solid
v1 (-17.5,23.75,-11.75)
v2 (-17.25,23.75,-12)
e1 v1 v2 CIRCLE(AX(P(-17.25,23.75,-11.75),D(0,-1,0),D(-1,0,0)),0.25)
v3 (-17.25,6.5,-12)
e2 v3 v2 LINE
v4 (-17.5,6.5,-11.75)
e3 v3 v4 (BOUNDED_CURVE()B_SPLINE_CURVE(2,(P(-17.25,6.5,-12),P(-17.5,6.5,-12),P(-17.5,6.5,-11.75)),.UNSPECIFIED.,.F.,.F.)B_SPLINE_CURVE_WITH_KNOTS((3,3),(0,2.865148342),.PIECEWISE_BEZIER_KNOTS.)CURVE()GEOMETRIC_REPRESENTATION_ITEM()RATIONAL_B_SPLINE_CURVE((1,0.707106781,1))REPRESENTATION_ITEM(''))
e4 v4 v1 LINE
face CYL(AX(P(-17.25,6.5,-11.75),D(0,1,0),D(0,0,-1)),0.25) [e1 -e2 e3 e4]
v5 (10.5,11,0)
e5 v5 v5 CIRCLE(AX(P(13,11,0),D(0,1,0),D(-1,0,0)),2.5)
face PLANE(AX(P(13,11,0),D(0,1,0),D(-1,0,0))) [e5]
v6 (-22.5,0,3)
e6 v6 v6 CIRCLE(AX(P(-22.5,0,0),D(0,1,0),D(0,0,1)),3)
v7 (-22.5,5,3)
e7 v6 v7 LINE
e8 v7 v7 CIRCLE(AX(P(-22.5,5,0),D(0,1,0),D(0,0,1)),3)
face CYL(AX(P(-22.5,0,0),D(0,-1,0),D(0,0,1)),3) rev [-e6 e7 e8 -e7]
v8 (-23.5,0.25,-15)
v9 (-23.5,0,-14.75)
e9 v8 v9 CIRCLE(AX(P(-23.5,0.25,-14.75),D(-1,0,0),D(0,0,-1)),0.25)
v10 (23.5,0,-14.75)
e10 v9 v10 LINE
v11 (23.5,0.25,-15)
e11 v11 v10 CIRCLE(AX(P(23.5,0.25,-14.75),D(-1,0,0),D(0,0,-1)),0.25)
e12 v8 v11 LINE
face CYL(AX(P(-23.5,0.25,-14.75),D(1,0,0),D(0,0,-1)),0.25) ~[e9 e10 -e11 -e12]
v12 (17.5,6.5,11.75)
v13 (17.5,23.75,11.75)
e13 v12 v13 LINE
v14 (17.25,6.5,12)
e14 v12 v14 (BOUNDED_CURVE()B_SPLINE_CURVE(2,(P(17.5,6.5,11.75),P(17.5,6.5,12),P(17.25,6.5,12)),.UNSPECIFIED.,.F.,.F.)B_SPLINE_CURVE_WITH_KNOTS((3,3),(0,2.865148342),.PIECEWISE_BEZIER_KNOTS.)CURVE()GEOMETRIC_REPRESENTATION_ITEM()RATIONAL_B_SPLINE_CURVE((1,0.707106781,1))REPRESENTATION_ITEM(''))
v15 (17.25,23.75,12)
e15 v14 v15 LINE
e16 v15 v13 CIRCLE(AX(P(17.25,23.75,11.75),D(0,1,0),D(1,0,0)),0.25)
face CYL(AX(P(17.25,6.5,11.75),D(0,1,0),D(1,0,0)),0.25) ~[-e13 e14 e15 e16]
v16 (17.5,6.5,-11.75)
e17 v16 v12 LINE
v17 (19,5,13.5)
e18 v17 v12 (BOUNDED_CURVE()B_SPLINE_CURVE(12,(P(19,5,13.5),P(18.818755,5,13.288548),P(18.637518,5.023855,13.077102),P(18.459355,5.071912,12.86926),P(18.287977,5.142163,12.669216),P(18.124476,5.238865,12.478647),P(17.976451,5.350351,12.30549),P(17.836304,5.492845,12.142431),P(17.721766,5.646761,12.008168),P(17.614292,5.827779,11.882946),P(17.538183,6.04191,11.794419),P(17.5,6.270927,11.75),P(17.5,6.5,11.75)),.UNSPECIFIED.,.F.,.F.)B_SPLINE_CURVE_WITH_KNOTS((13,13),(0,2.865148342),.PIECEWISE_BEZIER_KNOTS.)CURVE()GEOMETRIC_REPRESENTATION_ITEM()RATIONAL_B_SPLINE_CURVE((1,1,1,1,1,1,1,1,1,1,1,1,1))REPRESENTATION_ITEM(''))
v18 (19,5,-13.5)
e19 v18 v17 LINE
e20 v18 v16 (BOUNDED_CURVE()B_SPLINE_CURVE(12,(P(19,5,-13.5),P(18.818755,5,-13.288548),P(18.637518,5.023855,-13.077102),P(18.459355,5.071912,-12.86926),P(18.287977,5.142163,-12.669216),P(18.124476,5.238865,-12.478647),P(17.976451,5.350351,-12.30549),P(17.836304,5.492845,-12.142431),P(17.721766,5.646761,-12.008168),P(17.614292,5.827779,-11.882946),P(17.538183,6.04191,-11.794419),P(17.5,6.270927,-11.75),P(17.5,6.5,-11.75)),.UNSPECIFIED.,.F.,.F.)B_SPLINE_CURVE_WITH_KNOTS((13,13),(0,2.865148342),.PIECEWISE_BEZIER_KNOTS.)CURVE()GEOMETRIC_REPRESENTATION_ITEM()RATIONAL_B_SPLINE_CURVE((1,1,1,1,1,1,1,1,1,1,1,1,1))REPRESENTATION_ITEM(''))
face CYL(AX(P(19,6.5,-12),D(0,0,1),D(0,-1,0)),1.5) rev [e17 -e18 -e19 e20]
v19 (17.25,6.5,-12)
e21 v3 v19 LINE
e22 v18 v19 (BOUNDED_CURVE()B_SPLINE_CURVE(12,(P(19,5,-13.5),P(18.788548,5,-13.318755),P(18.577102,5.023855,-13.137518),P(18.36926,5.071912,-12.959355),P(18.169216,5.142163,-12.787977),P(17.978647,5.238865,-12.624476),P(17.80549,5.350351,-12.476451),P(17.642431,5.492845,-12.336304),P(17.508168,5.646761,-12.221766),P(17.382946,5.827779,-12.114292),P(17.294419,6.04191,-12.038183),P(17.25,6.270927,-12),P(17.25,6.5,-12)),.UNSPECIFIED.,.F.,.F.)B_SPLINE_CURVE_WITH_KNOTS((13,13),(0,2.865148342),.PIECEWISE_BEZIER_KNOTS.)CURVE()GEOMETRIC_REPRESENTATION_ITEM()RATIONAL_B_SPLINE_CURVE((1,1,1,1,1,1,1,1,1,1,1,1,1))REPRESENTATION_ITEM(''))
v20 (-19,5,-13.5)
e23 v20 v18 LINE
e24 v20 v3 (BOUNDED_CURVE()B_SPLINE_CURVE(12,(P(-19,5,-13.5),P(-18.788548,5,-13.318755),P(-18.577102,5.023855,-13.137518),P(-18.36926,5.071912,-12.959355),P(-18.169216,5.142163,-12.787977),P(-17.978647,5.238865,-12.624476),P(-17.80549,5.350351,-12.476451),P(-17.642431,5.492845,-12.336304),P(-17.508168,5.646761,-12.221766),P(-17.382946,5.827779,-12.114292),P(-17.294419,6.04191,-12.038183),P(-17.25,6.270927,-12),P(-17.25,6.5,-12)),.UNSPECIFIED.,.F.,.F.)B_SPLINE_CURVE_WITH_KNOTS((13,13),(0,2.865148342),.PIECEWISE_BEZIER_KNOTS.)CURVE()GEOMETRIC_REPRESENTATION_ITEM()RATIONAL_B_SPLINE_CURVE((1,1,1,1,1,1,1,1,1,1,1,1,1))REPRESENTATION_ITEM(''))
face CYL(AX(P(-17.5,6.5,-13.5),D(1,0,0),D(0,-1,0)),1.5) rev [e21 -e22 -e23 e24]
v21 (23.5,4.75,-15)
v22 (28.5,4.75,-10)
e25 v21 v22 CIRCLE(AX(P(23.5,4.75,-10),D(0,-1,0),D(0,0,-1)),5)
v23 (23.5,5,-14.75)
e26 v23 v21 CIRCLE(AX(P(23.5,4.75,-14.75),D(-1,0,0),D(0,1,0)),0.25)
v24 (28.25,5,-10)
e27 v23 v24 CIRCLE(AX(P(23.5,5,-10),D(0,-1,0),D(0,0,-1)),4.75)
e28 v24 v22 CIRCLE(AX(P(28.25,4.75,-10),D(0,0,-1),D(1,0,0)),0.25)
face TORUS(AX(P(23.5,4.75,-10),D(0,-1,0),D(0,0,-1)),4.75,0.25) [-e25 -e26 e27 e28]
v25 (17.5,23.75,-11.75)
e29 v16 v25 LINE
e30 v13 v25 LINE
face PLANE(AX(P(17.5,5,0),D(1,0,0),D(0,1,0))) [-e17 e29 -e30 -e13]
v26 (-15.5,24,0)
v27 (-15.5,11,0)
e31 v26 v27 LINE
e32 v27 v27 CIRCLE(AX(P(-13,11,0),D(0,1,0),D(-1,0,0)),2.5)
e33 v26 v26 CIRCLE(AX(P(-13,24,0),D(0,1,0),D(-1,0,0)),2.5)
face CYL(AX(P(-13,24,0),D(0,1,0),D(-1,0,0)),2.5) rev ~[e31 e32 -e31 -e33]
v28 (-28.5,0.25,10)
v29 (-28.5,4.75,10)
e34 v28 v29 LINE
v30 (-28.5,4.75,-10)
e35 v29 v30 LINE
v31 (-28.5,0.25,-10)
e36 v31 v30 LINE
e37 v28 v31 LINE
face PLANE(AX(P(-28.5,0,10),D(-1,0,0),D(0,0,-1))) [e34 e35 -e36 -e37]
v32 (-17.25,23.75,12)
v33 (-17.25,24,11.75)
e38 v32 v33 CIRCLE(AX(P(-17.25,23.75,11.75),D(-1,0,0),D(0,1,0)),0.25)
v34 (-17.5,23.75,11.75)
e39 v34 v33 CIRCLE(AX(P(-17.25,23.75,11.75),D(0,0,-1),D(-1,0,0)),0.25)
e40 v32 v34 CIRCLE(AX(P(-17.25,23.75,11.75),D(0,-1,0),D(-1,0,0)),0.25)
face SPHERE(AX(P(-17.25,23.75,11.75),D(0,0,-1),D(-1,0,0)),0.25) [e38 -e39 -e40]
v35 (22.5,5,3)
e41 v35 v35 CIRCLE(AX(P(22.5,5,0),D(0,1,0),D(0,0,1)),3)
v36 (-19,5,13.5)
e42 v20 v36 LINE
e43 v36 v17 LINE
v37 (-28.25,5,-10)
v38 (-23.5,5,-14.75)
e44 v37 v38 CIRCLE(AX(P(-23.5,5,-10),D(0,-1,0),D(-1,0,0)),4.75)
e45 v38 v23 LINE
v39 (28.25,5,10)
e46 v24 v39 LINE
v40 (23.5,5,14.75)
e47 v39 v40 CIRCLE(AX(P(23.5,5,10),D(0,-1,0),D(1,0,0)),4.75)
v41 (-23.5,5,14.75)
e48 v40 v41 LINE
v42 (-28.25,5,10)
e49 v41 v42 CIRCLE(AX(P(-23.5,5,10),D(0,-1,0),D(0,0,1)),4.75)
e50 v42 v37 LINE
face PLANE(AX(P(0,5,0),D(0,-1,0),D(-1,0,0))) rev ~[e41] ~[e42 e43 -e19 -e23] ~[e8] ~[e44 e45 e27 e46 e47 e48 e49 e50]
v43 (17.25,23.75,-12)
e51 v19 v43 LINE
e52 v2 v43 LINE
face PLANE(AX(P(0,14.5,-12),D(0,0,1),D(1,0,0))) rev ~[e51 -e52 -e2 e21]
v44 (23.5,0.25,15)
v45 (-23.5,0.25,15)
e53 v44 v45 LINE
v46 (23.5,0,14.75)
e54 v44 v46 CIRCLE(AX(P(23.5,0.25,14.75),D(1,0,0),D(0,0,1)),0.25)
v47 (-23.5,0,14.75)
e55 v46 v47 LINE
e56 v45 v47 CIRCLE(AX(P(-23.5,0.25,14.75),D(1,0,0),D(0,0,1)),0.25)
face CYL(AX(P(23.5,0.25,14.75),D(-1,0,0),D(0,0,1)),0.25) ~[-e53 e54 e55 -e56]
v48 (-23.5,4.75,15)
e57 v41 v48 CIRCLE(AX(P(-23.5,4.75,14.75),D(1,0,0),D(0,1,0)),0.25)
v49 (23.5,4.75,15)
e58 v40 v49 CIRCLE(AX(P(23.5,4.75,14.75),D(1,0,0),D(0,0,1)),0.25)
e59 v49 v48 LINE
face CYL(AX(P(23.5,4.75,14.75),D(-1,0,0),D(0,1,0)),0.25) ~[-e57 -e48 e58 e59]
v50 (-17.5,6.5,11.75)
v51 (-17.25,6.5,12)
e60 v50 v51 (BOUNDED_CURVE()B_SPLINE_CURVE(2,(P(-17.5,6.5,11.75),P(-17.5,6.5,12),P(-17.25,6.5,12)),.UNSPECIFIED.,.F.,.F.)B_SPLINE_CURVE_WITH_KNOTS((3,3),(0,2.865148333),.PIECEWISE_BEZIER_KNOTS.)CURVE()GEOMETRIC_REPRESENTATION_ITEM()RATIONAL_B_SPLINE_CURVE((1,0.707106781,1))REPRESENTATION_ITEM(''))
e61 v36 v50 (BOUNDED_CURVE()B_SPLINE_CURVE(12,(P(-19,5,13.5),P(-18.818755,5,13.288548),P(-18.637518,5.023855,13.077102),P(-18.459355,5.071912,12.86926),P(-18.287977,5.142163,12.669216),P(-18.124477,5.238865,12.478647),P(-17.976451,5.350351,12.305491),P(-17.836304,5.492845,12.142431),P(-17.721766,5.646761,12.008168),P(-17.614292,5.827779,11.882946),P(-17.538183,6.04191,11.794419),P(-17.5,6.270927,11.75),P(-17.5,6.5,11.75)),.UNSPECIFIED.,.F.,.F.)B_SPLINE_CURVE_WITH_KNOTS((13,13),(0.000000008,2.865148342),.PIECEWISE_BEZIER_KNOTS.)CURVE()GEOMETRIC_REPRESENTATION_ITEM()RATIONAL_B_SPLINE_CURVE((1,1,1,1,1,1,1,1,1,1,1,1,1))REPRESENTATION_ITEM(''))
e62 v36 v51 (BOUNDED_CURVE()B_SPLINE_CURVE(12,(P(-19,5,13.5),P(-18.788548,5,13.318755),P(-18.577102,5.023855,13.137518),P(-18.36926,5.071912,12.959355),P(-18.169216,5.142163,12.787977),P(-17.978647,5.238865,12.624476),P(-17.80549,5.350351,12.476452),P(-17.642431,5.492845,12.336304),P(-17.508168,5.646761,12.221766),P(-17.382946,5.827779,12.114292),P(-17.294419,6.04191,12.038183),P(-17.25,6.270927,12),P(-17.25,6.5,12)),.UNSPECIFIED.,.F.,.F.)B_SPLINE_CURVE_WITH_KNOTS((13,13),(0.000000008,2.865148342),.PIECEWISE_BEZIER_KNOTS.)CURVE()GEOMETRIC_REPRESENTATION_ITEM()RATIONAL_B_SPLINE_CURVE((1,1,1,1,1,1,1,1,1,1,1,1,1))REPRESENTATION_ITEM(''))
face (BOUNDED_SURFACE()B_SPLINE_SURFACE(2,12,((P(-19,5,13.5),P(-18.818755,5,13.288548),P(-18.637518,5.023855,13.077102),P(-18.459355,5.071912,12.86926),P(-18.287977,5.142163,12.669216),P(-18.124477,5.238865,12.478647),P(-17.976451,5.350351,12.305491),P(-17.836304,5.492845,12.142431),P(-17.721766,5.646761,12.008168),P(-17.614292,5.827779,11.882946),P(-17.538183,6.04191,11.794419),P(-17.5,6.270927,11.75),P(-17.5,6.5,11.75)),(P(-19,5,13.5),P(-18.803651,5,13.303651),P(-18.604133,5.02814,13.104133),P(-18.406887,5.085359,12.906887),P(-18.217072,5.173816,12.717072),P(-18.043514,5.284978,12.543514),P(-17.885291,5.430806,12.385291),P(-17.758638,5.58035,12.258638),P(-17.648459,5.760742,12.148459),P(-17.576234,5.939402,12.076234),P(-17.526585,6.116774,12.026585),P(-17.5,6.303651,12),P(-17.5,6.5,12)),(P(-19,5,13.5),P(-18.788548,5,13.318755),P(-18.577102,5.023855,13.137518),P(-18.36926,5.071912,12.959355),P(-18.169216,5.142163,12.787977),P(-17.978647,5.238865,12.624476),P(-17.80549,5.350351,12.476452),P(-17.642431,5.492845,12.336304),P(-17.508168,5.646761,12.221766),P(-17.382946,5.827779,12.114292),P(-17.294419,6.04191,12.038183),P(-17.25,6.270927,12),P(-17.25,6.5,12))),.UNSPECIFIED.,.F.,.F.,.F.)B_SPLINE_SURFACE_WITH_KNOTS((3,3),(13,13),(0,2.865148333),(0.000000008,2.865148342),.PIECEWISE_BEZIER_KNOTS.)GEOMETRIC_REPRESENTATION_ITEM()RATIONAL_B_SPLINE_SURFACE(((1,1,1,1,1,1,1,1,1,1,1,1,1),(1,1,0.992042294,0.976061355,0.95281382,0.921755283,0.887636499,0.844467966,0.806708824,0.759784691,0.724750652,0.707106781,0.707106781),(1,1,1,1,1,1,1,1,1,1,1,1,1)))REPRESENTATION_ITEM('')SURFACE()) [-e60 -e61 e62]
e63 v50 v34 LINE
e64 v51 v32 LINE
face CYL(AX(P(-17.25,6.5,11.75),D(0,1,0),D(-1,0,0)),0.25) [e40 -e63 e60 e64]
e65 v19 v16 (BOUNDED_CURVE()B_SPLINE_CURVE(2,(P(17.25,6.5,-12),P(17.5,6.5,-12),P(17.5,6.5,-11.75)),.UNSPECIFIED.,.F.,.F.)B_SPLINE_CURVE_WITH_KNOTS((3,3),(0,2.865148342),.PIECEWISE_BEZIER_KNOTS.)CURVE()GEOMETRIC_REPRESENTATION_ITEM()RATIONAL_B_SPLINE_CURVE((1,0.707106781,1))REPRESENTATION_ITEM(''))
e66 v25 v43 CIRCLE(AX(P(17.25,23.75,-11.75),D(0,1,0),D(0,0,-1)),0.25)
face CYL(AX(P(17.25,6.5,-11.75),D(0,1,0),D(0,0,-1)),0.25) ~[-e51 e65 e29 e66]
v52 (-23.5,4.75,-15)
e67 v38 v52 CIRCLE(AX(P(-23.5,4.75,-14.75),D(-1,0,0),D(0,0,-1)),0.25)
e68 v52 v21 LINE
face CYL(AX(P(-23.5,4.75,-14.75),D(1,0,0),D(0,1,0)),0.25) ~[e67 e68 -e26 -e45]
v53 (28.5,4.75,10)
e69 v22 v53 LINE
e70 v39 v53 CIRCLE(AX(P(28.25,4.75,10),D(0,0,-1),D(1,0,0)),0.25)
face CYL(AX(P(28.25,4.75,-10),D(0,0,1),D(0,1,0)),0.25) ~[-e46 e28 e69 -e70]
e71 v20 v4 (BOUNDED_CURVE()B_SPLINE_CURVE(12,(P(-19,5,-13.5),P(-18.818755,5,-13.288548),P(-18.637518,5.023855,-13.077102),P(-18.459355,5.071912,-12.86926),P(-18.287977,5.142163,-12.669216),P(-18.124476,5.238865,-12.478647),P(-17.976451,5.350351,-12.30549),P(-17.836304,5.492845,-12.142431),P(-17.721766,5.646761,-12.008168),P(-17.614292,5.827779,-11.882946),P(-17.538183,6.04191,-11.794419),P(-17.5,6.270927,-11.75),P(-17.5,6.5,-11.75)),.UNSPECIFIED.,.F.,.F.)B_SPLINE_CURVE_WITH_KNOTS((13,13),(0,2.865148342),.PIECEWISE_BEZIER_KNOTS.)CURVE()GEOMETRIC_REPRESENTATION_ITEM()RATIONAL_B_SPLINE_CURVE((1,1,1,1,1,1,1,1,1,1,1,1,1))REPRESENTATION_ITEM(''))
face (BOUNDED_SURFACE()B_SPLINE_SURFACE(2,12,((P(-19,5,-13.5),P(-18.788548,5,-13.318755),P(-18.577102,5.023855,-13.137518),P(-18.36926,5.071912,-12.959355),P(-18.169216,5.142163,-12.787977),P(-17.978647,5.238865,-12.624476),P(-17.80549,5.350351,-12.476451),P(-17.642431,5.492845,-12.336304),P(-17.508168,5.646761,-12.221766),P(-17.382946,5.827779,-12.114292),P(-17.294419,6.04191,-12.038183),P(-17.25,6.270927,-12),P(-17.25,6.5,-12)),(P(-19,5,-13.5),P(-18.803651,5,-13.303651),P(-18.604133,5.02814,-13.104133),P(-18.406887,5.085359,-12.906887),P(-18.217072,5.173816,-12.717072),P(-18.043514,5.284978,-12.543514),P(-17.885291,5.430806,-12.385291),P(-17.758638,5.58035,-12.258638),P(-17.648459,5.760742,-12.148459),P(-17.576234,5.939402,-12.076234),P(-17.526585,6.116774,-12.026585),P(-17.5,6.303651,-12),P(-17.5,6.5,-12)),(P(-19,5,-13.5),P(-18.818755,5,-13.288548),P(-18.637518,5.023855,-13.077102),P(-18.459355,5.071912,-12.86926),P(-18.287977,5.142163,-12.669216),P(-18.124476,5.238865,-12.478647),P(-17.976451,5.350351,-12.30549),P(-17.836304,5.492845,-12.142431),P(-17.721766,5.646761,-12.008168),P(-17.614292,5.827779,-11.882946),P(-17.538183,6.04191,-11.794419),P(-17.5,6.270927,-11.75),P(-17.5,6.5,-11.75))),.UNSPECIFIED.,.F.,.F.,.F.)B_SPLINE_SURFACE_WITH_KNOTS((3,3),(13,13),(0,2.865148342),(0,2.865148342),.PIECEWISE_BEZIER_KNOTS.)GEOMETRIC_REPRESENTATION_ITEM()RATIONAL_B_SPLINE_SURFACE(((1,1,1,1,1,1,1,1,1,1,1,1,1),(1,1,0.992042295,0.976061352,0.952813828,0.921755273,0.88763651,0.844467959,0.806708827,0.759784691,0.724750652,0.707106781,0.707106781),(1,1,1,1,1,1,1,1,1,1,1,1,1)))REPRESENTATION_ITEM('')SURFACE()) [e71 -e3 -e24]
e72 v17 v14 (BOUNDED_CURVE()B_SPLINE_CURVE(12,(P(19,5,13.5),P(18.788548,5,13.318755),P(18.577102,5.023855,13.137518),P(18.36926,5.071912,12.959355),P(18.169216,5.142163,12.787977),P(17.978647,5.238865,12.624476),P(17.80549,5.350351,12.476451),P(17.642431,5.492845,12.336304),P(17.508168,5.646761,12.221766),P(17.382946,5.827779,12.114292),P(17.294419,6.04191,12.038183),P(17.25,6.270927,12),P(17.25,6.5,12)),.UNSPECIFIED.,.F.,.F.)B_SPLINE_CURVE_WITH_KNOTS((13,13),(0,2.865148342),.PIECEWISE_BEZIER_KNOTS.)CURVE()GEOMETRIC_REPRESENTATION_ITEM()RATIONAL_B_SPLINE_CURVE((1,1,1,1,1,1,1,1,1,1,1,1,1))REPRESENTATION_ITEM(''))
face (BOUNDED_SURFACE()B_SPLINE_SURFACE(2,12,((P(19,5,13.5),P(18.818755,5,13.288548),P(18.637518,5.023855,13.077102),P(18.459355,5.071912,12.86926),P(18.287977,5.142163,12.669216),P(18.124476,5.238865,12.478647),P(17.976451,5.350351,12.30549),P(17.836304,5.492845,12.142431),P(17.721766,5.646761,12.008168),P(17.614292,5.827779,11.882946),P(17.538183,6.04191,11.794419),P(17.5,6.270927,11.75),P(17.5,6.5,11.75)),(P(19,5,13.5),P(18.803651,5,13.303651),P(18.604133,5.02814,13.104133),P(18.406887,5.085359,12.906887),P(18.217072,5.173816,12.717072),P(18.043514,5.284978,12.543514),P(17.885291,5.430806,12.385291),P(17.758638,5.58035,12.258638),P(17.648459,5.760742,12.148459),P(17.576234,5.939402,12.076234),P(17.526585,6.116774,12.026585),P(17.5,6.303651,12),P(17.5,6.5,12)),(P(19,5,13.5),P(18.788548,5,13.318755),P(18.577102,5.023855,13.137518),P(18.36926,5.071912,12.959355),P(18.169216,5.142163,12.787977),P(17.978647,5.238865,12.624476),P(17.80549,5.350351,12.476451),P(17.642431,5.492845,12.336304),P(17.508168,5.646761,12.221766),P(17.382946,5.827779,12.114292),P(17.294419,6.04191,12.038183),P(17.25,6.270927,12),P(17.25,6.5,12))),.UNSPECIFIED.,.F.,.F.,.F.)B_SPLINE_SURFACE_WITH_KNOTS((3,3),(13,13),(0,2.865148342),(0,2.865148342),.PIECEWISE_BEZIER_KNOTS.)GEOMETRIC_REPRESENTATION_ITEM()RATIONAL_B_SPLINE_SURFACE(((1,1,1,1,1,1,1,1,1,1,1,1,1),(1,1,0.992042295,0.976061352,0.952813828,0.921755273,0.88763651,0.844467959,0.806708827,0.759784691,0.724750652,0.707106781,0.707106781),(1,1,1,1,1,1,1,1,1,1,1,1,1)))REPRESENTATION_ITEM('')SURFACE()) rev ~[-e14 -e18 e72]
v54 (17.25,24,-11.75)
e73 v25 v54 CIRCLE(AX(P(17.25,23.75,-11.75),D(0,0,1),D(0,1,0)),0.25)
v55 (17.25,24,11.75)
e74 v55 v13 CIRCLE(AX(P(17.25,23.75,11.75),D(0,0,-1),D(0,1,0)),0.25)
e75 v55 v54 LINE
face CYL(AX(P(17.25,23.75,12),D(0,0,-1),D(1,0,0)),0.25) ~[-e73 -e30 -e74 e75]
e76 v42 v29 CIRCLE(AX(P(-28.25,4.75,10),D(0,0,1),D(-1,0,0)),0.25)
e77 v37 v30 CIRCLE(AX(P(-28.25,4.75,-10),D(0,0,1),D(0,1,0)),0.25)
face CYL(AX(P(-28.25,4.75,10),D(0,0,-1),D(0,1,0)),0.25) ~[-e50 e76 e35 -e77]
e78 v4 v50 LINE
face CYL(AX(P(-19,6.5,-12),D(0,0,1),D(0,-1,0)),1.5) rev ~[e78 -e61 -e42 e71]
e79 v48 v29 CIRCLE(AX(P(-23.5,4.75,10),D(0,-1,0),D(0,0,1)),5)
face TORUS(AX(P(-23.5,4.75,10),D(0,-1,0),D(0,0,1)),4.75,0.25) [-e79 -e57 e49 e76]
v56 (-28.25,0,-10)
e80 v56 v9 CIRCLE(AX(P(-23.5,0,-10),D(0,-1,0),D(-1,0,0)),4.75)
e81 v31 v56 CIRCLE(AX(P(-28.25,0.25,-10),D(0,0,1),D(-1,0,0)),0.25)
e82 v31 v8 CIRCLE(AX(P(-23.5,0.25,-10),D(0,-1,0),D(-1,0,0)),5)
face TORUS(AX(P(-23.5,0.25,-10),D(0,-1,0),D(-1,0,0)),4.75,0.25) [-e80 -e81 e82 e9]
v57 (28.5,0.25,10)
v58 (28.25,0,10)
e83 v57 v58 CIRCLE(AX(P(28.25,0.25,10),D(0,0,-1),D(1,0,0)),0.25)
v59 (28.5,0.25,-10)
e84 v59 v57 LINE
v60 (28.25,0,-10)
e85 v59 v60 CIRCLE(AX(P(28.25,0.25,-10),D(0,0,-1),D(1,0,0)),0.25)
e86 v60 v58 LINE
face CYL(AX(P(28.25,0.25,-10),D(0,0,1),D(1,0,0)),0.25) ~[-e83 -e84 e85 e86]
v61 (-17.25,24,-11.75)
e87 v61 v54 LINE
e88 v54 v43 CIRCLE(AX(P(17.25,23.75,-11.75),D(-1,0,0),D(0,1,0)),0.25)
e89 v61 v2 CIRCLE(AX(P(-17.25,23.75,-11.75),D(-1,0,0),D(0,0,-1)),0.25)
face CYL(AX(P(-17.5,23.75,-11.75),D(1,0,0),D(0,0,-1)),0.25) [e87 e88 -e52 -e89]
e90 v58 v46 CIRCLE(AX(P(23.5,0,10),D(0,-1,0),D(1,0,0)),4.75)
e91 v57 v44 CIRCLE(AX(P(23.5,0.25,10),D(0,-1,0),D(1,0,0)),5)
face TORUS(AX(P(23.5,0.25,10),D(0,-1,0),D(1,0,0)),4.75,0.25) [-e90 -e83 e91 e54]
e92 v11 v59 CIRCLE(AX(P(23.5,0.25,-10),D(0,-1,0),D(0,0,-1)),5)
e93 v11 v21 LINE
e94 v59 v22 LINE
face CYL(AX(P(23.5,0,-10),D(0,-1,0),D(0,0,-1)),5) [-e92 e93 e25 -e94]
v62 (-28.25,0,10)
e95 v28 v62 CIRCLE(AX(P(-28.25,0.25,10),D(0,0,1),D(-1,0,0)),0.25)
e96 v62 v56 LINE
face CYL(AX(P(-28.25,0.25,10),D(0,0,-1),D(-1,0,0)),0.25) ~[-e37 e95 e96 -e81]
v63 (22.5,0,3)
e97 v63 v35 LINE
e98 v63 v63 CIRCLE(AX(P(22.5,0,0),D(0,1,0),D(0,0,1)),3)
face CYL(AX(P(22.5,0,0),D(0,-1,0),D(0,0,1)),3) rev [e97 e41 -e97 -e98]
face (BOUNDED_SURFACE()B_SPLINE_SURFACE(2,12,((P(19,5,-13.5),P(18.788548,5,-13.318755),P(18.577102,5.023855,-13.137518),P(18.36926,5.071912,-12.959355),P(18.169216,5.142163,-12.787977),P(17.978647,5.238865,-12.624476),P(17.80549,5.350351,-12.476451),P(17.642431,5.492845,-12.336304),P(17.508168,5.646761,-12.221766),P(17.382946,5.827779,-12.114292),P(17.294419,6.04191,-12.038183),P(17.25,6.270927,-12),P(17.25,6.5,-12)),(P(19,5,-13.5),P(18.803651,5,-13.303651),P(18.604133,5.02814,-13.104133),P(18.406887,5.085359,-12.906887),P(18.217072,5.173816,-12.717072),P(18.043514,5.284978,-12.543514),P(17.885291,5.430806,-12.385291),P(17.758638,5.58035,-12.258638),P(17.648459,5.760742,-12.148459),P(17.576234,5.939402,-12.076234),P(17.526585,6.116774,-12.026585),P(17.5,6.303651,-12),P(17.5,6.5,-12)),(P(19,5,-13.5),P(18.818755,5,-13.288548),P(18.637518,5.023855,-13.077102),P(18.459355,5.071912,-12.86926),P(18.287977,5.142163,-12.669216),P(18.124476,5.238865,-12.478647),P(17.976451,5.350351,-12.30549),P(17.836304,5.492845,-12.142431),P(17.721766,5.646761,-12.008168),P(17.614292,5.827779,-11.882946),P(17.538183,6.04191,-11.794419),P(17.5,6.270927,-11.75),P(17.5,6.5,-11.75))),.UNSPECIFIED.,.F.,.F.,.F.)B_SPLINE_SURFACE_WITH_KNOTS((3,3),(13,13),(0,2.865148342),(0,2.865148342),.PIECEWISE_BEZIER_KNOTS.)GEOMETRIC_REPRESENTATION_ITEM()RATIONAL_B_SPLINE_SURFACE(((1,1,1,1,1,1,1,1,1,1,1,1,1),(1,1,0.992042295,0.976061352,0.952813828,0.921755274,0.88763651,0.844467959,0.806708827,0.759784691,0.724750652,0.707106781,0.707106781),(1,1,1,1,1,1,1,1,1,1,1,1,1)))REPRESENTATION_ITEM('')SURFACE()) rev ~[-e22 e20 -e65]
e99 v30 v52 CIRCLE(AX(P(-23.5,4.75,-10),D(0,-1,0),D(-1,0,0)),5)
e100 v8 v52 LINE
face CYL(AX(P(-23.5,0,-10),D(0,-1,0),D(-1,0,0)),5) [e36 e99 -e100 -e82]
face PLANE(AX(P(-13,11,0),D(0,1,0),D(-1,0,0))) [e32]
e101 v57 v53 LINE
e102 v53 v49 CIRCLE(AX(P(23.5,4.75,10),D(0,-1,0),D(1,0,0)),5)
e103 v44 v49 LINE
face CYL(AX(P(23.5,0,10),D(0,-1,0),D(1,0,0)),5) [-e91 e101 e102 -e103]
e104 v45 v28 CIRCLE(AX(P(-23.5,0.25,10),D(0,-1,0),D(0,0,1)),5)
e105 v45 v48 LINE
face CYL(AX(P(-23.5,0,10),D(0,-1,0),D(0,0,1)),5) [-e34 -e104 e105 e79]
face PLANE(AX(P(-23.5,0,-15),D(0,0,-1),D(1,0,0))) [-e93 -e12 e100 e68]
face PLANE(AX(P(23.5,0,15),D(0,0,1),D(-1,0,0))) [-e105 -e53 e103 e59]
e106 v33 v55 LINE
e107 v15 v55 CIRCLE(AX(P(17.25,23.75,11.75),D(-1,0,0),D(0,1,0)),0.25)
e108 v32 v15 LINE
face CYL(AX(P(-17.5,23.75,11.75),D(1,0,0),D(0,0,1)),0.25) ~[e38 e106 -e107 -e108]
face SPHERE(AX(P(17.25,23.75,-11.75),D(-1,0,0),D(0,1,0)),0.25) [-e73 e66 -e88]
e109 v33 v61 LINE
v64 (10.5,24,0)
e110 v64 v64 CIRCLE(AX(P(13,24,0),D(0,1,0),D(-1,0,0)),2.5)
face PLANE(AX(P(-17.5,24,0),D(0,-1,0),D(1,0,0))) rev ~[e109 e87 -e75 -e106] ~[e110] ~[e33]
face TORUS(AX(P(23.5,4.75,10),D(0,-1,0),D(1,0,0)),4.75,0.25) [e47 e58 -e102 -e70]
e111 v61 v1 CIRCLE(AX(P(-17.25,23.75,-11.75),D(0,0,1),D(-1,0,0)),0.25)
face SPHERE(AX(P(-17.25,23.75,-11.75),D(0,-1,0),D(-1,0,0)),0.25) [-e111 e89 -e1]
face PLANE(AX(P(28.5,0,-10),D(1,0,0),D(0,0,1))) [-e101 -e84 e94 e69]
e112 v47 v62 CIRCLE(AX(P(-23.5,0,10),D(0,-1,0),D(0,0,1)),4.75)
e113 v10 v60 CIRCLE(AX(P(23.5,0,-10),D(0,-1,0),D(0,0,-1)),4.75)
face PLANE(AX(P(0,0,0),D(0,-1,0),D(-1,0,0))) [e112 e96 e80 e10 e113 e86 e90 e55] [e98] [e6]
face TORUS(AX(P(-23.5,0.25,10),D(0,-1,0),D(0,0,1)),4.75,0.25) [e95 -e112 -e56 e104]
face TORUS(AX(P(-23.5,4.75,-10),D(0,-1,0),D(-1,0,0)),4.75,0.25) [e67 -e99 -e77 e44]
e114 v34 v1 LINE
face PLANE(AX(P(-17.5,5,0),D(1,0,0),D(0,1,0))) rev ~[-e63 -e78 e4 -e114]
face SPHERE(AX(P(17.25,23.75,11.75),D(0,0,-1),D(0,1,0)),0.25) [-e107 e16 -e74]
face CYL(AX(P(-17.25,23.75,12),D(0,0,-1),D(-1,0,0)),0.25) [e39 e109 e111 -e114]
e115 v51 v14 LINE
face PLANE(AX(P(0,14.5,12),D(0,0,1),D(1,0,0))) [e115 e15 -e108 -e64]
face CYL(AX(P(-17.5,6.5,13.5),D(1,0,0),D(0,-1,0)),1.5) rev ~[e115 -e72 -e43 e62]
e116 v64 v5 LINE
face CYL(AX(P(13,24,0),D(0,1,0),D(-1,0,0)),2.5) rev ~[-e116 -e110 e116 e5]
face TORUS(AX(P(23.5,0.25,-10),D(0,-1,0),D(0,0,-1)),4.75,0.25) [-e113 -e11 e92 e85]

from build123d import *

# Parameters (mm, degrees)
SKETCH1_R           = 3
BOSS_EXTRUDE1_DEPTH = 5
SKETCH2_W           = 35
SKETCH2_H           = 19
BOSS_EXTRUDE2_DEPTH = 12
SKETCH3_R           = 2.5
CUT_EXTRUDE1_DEPTH  = 13
FILLET1_R           = 1.5
FILLET2_R           = 0.25
FILLET3_R           = 0.25


with BuildPart() as part:
    # Sketch1 → Boss-Extrude1 (new body)
    with BuildSketch(Plane(origin=(0, 0, 0), x_dir=(1, 0, 0), z_dir=(0, 1, 0))):
        with BuildLine():
            Line((23.5, -15), (-23.5, -15))
            ThreePointArc((-23.5, -15), (-27.035533906, -13.535533906), (-28.5, -10))
            Line((-28.5, -10), (-28.5, 10))
            ThreePointArc((-28.5, 10), (-27.035533906, 13.535533906), (-23.5, 15))
            Line((-23.5, 15), (23.5, 15))
            ThreePointArc((23.5, 15), (27.035533906, 13.535533906), (28.5, 10))
            Line((28.5, 10), (28.5, -10))
            ThreePointArc((28.5, -10), (27.035533906, -13.535533906), (23.5, -15))
        make_face()
        with Locations(Location((-22.5, 0, 0), (0, 0, 270))):
            Circle(SKETCH1_R, mode=Mode.SUBTRACT)
        with Locations(Location((22.5, 0, 0), (0, 0, 270))):
            Circle(SKETCH1_R, mode=Mode.SUBTRACT)
    extrude(amount=BOSS_EXTRUDE1_DEPTH)

    # Sketch2 → Boss-Extrude2 (add, symmetric)
    with BuildSketch(Plane.XY):
        with Locations((0, 14.5)):
            Rectangle(SKETCH2_W, SKETCH2_H)
    extrude(amount=BOSS_EXTRUDE2_DEPTH, both=True)

    # Sketch3 → Cut-Extrude1 (cut)
    with BuildSketch(Plane(origin=(0, 24, 0), x_dir=(1, 0, 0), z_dir=(0, 1, 0))):
        with Locations(Location((-13, 0, 0), (0, 0, 180))):
            Circle(SKETCH3_R)
        with Locations(Location((13, 0, 0), (0, 0, 180))):
            Circle(SKETCH3_R)
    extrude(amount=-CUT_EXTRUDE1_DEPTH, mode=Mode.SUBTRACT)

    # Fillet1
    fillet1_edges = [part.edges().sort_by_distance(p)[0] for p in [
        (0, 5, -12),
        (-17.5, 5, 0),
        (17.5, 5, 0),
        (0, 5, 12),
    ]]
    fillet(fillet1_edges, radius=FILLET1_R)

    # Fillet2
    fillet2_edges = [part.edges().sort_by_distance(p)[0] for p in [
        (28.5, 0, 0),
        (27.035533906, 0, 13.535533906),
        (0, 0, 15),
        (-27.035533906, 0, 13.535533906),
        (27.035533906, 5, 13.535533906),
        (28.5, 5, 0),
        (27.035533906, 5, -13.535533906),
        (0, 5, -15),
        (-27.035533906, 5, -13.535533906),
        (-28.5, 5, 0),
        (-27.035533906, 5, 13.535533906),
        (-28.5, 0, 0),
        (0, 5, 15),
        (-27.035533906, 0, -13.535533906),
        (0, 0, -15),
        (27.035533906, 0, -13.535533906),
    ]]
    fillet(fillet2_edges, radius=FILLET2_R)

    # Fillet3
    fillet3_edges = [part.edges().sort_by_distance(p)[0] for p in [
        (-17.5, 15.25, -12),
        (-17.5, 24, 0),
        (0, 24, -12),
        (17.5, 24, 0),
        (-17.5, 15.25, 12),
        (0, 24, 12),
        (17.5, 15.25, -12),
        (17.5, 15.25, 12),
        (18.030926639, 5.355055975, 12.530926639),
        (18.030926639, 5.355055975, -12.530926639),
        (-18.030926639, 5.355055975, 12.530926639),
        (-18.030926639, 5.355055975, -12.530926639),
    ]]
    fillet(fillet3_edges, radius=FILLET3_R)


solid = part.part
